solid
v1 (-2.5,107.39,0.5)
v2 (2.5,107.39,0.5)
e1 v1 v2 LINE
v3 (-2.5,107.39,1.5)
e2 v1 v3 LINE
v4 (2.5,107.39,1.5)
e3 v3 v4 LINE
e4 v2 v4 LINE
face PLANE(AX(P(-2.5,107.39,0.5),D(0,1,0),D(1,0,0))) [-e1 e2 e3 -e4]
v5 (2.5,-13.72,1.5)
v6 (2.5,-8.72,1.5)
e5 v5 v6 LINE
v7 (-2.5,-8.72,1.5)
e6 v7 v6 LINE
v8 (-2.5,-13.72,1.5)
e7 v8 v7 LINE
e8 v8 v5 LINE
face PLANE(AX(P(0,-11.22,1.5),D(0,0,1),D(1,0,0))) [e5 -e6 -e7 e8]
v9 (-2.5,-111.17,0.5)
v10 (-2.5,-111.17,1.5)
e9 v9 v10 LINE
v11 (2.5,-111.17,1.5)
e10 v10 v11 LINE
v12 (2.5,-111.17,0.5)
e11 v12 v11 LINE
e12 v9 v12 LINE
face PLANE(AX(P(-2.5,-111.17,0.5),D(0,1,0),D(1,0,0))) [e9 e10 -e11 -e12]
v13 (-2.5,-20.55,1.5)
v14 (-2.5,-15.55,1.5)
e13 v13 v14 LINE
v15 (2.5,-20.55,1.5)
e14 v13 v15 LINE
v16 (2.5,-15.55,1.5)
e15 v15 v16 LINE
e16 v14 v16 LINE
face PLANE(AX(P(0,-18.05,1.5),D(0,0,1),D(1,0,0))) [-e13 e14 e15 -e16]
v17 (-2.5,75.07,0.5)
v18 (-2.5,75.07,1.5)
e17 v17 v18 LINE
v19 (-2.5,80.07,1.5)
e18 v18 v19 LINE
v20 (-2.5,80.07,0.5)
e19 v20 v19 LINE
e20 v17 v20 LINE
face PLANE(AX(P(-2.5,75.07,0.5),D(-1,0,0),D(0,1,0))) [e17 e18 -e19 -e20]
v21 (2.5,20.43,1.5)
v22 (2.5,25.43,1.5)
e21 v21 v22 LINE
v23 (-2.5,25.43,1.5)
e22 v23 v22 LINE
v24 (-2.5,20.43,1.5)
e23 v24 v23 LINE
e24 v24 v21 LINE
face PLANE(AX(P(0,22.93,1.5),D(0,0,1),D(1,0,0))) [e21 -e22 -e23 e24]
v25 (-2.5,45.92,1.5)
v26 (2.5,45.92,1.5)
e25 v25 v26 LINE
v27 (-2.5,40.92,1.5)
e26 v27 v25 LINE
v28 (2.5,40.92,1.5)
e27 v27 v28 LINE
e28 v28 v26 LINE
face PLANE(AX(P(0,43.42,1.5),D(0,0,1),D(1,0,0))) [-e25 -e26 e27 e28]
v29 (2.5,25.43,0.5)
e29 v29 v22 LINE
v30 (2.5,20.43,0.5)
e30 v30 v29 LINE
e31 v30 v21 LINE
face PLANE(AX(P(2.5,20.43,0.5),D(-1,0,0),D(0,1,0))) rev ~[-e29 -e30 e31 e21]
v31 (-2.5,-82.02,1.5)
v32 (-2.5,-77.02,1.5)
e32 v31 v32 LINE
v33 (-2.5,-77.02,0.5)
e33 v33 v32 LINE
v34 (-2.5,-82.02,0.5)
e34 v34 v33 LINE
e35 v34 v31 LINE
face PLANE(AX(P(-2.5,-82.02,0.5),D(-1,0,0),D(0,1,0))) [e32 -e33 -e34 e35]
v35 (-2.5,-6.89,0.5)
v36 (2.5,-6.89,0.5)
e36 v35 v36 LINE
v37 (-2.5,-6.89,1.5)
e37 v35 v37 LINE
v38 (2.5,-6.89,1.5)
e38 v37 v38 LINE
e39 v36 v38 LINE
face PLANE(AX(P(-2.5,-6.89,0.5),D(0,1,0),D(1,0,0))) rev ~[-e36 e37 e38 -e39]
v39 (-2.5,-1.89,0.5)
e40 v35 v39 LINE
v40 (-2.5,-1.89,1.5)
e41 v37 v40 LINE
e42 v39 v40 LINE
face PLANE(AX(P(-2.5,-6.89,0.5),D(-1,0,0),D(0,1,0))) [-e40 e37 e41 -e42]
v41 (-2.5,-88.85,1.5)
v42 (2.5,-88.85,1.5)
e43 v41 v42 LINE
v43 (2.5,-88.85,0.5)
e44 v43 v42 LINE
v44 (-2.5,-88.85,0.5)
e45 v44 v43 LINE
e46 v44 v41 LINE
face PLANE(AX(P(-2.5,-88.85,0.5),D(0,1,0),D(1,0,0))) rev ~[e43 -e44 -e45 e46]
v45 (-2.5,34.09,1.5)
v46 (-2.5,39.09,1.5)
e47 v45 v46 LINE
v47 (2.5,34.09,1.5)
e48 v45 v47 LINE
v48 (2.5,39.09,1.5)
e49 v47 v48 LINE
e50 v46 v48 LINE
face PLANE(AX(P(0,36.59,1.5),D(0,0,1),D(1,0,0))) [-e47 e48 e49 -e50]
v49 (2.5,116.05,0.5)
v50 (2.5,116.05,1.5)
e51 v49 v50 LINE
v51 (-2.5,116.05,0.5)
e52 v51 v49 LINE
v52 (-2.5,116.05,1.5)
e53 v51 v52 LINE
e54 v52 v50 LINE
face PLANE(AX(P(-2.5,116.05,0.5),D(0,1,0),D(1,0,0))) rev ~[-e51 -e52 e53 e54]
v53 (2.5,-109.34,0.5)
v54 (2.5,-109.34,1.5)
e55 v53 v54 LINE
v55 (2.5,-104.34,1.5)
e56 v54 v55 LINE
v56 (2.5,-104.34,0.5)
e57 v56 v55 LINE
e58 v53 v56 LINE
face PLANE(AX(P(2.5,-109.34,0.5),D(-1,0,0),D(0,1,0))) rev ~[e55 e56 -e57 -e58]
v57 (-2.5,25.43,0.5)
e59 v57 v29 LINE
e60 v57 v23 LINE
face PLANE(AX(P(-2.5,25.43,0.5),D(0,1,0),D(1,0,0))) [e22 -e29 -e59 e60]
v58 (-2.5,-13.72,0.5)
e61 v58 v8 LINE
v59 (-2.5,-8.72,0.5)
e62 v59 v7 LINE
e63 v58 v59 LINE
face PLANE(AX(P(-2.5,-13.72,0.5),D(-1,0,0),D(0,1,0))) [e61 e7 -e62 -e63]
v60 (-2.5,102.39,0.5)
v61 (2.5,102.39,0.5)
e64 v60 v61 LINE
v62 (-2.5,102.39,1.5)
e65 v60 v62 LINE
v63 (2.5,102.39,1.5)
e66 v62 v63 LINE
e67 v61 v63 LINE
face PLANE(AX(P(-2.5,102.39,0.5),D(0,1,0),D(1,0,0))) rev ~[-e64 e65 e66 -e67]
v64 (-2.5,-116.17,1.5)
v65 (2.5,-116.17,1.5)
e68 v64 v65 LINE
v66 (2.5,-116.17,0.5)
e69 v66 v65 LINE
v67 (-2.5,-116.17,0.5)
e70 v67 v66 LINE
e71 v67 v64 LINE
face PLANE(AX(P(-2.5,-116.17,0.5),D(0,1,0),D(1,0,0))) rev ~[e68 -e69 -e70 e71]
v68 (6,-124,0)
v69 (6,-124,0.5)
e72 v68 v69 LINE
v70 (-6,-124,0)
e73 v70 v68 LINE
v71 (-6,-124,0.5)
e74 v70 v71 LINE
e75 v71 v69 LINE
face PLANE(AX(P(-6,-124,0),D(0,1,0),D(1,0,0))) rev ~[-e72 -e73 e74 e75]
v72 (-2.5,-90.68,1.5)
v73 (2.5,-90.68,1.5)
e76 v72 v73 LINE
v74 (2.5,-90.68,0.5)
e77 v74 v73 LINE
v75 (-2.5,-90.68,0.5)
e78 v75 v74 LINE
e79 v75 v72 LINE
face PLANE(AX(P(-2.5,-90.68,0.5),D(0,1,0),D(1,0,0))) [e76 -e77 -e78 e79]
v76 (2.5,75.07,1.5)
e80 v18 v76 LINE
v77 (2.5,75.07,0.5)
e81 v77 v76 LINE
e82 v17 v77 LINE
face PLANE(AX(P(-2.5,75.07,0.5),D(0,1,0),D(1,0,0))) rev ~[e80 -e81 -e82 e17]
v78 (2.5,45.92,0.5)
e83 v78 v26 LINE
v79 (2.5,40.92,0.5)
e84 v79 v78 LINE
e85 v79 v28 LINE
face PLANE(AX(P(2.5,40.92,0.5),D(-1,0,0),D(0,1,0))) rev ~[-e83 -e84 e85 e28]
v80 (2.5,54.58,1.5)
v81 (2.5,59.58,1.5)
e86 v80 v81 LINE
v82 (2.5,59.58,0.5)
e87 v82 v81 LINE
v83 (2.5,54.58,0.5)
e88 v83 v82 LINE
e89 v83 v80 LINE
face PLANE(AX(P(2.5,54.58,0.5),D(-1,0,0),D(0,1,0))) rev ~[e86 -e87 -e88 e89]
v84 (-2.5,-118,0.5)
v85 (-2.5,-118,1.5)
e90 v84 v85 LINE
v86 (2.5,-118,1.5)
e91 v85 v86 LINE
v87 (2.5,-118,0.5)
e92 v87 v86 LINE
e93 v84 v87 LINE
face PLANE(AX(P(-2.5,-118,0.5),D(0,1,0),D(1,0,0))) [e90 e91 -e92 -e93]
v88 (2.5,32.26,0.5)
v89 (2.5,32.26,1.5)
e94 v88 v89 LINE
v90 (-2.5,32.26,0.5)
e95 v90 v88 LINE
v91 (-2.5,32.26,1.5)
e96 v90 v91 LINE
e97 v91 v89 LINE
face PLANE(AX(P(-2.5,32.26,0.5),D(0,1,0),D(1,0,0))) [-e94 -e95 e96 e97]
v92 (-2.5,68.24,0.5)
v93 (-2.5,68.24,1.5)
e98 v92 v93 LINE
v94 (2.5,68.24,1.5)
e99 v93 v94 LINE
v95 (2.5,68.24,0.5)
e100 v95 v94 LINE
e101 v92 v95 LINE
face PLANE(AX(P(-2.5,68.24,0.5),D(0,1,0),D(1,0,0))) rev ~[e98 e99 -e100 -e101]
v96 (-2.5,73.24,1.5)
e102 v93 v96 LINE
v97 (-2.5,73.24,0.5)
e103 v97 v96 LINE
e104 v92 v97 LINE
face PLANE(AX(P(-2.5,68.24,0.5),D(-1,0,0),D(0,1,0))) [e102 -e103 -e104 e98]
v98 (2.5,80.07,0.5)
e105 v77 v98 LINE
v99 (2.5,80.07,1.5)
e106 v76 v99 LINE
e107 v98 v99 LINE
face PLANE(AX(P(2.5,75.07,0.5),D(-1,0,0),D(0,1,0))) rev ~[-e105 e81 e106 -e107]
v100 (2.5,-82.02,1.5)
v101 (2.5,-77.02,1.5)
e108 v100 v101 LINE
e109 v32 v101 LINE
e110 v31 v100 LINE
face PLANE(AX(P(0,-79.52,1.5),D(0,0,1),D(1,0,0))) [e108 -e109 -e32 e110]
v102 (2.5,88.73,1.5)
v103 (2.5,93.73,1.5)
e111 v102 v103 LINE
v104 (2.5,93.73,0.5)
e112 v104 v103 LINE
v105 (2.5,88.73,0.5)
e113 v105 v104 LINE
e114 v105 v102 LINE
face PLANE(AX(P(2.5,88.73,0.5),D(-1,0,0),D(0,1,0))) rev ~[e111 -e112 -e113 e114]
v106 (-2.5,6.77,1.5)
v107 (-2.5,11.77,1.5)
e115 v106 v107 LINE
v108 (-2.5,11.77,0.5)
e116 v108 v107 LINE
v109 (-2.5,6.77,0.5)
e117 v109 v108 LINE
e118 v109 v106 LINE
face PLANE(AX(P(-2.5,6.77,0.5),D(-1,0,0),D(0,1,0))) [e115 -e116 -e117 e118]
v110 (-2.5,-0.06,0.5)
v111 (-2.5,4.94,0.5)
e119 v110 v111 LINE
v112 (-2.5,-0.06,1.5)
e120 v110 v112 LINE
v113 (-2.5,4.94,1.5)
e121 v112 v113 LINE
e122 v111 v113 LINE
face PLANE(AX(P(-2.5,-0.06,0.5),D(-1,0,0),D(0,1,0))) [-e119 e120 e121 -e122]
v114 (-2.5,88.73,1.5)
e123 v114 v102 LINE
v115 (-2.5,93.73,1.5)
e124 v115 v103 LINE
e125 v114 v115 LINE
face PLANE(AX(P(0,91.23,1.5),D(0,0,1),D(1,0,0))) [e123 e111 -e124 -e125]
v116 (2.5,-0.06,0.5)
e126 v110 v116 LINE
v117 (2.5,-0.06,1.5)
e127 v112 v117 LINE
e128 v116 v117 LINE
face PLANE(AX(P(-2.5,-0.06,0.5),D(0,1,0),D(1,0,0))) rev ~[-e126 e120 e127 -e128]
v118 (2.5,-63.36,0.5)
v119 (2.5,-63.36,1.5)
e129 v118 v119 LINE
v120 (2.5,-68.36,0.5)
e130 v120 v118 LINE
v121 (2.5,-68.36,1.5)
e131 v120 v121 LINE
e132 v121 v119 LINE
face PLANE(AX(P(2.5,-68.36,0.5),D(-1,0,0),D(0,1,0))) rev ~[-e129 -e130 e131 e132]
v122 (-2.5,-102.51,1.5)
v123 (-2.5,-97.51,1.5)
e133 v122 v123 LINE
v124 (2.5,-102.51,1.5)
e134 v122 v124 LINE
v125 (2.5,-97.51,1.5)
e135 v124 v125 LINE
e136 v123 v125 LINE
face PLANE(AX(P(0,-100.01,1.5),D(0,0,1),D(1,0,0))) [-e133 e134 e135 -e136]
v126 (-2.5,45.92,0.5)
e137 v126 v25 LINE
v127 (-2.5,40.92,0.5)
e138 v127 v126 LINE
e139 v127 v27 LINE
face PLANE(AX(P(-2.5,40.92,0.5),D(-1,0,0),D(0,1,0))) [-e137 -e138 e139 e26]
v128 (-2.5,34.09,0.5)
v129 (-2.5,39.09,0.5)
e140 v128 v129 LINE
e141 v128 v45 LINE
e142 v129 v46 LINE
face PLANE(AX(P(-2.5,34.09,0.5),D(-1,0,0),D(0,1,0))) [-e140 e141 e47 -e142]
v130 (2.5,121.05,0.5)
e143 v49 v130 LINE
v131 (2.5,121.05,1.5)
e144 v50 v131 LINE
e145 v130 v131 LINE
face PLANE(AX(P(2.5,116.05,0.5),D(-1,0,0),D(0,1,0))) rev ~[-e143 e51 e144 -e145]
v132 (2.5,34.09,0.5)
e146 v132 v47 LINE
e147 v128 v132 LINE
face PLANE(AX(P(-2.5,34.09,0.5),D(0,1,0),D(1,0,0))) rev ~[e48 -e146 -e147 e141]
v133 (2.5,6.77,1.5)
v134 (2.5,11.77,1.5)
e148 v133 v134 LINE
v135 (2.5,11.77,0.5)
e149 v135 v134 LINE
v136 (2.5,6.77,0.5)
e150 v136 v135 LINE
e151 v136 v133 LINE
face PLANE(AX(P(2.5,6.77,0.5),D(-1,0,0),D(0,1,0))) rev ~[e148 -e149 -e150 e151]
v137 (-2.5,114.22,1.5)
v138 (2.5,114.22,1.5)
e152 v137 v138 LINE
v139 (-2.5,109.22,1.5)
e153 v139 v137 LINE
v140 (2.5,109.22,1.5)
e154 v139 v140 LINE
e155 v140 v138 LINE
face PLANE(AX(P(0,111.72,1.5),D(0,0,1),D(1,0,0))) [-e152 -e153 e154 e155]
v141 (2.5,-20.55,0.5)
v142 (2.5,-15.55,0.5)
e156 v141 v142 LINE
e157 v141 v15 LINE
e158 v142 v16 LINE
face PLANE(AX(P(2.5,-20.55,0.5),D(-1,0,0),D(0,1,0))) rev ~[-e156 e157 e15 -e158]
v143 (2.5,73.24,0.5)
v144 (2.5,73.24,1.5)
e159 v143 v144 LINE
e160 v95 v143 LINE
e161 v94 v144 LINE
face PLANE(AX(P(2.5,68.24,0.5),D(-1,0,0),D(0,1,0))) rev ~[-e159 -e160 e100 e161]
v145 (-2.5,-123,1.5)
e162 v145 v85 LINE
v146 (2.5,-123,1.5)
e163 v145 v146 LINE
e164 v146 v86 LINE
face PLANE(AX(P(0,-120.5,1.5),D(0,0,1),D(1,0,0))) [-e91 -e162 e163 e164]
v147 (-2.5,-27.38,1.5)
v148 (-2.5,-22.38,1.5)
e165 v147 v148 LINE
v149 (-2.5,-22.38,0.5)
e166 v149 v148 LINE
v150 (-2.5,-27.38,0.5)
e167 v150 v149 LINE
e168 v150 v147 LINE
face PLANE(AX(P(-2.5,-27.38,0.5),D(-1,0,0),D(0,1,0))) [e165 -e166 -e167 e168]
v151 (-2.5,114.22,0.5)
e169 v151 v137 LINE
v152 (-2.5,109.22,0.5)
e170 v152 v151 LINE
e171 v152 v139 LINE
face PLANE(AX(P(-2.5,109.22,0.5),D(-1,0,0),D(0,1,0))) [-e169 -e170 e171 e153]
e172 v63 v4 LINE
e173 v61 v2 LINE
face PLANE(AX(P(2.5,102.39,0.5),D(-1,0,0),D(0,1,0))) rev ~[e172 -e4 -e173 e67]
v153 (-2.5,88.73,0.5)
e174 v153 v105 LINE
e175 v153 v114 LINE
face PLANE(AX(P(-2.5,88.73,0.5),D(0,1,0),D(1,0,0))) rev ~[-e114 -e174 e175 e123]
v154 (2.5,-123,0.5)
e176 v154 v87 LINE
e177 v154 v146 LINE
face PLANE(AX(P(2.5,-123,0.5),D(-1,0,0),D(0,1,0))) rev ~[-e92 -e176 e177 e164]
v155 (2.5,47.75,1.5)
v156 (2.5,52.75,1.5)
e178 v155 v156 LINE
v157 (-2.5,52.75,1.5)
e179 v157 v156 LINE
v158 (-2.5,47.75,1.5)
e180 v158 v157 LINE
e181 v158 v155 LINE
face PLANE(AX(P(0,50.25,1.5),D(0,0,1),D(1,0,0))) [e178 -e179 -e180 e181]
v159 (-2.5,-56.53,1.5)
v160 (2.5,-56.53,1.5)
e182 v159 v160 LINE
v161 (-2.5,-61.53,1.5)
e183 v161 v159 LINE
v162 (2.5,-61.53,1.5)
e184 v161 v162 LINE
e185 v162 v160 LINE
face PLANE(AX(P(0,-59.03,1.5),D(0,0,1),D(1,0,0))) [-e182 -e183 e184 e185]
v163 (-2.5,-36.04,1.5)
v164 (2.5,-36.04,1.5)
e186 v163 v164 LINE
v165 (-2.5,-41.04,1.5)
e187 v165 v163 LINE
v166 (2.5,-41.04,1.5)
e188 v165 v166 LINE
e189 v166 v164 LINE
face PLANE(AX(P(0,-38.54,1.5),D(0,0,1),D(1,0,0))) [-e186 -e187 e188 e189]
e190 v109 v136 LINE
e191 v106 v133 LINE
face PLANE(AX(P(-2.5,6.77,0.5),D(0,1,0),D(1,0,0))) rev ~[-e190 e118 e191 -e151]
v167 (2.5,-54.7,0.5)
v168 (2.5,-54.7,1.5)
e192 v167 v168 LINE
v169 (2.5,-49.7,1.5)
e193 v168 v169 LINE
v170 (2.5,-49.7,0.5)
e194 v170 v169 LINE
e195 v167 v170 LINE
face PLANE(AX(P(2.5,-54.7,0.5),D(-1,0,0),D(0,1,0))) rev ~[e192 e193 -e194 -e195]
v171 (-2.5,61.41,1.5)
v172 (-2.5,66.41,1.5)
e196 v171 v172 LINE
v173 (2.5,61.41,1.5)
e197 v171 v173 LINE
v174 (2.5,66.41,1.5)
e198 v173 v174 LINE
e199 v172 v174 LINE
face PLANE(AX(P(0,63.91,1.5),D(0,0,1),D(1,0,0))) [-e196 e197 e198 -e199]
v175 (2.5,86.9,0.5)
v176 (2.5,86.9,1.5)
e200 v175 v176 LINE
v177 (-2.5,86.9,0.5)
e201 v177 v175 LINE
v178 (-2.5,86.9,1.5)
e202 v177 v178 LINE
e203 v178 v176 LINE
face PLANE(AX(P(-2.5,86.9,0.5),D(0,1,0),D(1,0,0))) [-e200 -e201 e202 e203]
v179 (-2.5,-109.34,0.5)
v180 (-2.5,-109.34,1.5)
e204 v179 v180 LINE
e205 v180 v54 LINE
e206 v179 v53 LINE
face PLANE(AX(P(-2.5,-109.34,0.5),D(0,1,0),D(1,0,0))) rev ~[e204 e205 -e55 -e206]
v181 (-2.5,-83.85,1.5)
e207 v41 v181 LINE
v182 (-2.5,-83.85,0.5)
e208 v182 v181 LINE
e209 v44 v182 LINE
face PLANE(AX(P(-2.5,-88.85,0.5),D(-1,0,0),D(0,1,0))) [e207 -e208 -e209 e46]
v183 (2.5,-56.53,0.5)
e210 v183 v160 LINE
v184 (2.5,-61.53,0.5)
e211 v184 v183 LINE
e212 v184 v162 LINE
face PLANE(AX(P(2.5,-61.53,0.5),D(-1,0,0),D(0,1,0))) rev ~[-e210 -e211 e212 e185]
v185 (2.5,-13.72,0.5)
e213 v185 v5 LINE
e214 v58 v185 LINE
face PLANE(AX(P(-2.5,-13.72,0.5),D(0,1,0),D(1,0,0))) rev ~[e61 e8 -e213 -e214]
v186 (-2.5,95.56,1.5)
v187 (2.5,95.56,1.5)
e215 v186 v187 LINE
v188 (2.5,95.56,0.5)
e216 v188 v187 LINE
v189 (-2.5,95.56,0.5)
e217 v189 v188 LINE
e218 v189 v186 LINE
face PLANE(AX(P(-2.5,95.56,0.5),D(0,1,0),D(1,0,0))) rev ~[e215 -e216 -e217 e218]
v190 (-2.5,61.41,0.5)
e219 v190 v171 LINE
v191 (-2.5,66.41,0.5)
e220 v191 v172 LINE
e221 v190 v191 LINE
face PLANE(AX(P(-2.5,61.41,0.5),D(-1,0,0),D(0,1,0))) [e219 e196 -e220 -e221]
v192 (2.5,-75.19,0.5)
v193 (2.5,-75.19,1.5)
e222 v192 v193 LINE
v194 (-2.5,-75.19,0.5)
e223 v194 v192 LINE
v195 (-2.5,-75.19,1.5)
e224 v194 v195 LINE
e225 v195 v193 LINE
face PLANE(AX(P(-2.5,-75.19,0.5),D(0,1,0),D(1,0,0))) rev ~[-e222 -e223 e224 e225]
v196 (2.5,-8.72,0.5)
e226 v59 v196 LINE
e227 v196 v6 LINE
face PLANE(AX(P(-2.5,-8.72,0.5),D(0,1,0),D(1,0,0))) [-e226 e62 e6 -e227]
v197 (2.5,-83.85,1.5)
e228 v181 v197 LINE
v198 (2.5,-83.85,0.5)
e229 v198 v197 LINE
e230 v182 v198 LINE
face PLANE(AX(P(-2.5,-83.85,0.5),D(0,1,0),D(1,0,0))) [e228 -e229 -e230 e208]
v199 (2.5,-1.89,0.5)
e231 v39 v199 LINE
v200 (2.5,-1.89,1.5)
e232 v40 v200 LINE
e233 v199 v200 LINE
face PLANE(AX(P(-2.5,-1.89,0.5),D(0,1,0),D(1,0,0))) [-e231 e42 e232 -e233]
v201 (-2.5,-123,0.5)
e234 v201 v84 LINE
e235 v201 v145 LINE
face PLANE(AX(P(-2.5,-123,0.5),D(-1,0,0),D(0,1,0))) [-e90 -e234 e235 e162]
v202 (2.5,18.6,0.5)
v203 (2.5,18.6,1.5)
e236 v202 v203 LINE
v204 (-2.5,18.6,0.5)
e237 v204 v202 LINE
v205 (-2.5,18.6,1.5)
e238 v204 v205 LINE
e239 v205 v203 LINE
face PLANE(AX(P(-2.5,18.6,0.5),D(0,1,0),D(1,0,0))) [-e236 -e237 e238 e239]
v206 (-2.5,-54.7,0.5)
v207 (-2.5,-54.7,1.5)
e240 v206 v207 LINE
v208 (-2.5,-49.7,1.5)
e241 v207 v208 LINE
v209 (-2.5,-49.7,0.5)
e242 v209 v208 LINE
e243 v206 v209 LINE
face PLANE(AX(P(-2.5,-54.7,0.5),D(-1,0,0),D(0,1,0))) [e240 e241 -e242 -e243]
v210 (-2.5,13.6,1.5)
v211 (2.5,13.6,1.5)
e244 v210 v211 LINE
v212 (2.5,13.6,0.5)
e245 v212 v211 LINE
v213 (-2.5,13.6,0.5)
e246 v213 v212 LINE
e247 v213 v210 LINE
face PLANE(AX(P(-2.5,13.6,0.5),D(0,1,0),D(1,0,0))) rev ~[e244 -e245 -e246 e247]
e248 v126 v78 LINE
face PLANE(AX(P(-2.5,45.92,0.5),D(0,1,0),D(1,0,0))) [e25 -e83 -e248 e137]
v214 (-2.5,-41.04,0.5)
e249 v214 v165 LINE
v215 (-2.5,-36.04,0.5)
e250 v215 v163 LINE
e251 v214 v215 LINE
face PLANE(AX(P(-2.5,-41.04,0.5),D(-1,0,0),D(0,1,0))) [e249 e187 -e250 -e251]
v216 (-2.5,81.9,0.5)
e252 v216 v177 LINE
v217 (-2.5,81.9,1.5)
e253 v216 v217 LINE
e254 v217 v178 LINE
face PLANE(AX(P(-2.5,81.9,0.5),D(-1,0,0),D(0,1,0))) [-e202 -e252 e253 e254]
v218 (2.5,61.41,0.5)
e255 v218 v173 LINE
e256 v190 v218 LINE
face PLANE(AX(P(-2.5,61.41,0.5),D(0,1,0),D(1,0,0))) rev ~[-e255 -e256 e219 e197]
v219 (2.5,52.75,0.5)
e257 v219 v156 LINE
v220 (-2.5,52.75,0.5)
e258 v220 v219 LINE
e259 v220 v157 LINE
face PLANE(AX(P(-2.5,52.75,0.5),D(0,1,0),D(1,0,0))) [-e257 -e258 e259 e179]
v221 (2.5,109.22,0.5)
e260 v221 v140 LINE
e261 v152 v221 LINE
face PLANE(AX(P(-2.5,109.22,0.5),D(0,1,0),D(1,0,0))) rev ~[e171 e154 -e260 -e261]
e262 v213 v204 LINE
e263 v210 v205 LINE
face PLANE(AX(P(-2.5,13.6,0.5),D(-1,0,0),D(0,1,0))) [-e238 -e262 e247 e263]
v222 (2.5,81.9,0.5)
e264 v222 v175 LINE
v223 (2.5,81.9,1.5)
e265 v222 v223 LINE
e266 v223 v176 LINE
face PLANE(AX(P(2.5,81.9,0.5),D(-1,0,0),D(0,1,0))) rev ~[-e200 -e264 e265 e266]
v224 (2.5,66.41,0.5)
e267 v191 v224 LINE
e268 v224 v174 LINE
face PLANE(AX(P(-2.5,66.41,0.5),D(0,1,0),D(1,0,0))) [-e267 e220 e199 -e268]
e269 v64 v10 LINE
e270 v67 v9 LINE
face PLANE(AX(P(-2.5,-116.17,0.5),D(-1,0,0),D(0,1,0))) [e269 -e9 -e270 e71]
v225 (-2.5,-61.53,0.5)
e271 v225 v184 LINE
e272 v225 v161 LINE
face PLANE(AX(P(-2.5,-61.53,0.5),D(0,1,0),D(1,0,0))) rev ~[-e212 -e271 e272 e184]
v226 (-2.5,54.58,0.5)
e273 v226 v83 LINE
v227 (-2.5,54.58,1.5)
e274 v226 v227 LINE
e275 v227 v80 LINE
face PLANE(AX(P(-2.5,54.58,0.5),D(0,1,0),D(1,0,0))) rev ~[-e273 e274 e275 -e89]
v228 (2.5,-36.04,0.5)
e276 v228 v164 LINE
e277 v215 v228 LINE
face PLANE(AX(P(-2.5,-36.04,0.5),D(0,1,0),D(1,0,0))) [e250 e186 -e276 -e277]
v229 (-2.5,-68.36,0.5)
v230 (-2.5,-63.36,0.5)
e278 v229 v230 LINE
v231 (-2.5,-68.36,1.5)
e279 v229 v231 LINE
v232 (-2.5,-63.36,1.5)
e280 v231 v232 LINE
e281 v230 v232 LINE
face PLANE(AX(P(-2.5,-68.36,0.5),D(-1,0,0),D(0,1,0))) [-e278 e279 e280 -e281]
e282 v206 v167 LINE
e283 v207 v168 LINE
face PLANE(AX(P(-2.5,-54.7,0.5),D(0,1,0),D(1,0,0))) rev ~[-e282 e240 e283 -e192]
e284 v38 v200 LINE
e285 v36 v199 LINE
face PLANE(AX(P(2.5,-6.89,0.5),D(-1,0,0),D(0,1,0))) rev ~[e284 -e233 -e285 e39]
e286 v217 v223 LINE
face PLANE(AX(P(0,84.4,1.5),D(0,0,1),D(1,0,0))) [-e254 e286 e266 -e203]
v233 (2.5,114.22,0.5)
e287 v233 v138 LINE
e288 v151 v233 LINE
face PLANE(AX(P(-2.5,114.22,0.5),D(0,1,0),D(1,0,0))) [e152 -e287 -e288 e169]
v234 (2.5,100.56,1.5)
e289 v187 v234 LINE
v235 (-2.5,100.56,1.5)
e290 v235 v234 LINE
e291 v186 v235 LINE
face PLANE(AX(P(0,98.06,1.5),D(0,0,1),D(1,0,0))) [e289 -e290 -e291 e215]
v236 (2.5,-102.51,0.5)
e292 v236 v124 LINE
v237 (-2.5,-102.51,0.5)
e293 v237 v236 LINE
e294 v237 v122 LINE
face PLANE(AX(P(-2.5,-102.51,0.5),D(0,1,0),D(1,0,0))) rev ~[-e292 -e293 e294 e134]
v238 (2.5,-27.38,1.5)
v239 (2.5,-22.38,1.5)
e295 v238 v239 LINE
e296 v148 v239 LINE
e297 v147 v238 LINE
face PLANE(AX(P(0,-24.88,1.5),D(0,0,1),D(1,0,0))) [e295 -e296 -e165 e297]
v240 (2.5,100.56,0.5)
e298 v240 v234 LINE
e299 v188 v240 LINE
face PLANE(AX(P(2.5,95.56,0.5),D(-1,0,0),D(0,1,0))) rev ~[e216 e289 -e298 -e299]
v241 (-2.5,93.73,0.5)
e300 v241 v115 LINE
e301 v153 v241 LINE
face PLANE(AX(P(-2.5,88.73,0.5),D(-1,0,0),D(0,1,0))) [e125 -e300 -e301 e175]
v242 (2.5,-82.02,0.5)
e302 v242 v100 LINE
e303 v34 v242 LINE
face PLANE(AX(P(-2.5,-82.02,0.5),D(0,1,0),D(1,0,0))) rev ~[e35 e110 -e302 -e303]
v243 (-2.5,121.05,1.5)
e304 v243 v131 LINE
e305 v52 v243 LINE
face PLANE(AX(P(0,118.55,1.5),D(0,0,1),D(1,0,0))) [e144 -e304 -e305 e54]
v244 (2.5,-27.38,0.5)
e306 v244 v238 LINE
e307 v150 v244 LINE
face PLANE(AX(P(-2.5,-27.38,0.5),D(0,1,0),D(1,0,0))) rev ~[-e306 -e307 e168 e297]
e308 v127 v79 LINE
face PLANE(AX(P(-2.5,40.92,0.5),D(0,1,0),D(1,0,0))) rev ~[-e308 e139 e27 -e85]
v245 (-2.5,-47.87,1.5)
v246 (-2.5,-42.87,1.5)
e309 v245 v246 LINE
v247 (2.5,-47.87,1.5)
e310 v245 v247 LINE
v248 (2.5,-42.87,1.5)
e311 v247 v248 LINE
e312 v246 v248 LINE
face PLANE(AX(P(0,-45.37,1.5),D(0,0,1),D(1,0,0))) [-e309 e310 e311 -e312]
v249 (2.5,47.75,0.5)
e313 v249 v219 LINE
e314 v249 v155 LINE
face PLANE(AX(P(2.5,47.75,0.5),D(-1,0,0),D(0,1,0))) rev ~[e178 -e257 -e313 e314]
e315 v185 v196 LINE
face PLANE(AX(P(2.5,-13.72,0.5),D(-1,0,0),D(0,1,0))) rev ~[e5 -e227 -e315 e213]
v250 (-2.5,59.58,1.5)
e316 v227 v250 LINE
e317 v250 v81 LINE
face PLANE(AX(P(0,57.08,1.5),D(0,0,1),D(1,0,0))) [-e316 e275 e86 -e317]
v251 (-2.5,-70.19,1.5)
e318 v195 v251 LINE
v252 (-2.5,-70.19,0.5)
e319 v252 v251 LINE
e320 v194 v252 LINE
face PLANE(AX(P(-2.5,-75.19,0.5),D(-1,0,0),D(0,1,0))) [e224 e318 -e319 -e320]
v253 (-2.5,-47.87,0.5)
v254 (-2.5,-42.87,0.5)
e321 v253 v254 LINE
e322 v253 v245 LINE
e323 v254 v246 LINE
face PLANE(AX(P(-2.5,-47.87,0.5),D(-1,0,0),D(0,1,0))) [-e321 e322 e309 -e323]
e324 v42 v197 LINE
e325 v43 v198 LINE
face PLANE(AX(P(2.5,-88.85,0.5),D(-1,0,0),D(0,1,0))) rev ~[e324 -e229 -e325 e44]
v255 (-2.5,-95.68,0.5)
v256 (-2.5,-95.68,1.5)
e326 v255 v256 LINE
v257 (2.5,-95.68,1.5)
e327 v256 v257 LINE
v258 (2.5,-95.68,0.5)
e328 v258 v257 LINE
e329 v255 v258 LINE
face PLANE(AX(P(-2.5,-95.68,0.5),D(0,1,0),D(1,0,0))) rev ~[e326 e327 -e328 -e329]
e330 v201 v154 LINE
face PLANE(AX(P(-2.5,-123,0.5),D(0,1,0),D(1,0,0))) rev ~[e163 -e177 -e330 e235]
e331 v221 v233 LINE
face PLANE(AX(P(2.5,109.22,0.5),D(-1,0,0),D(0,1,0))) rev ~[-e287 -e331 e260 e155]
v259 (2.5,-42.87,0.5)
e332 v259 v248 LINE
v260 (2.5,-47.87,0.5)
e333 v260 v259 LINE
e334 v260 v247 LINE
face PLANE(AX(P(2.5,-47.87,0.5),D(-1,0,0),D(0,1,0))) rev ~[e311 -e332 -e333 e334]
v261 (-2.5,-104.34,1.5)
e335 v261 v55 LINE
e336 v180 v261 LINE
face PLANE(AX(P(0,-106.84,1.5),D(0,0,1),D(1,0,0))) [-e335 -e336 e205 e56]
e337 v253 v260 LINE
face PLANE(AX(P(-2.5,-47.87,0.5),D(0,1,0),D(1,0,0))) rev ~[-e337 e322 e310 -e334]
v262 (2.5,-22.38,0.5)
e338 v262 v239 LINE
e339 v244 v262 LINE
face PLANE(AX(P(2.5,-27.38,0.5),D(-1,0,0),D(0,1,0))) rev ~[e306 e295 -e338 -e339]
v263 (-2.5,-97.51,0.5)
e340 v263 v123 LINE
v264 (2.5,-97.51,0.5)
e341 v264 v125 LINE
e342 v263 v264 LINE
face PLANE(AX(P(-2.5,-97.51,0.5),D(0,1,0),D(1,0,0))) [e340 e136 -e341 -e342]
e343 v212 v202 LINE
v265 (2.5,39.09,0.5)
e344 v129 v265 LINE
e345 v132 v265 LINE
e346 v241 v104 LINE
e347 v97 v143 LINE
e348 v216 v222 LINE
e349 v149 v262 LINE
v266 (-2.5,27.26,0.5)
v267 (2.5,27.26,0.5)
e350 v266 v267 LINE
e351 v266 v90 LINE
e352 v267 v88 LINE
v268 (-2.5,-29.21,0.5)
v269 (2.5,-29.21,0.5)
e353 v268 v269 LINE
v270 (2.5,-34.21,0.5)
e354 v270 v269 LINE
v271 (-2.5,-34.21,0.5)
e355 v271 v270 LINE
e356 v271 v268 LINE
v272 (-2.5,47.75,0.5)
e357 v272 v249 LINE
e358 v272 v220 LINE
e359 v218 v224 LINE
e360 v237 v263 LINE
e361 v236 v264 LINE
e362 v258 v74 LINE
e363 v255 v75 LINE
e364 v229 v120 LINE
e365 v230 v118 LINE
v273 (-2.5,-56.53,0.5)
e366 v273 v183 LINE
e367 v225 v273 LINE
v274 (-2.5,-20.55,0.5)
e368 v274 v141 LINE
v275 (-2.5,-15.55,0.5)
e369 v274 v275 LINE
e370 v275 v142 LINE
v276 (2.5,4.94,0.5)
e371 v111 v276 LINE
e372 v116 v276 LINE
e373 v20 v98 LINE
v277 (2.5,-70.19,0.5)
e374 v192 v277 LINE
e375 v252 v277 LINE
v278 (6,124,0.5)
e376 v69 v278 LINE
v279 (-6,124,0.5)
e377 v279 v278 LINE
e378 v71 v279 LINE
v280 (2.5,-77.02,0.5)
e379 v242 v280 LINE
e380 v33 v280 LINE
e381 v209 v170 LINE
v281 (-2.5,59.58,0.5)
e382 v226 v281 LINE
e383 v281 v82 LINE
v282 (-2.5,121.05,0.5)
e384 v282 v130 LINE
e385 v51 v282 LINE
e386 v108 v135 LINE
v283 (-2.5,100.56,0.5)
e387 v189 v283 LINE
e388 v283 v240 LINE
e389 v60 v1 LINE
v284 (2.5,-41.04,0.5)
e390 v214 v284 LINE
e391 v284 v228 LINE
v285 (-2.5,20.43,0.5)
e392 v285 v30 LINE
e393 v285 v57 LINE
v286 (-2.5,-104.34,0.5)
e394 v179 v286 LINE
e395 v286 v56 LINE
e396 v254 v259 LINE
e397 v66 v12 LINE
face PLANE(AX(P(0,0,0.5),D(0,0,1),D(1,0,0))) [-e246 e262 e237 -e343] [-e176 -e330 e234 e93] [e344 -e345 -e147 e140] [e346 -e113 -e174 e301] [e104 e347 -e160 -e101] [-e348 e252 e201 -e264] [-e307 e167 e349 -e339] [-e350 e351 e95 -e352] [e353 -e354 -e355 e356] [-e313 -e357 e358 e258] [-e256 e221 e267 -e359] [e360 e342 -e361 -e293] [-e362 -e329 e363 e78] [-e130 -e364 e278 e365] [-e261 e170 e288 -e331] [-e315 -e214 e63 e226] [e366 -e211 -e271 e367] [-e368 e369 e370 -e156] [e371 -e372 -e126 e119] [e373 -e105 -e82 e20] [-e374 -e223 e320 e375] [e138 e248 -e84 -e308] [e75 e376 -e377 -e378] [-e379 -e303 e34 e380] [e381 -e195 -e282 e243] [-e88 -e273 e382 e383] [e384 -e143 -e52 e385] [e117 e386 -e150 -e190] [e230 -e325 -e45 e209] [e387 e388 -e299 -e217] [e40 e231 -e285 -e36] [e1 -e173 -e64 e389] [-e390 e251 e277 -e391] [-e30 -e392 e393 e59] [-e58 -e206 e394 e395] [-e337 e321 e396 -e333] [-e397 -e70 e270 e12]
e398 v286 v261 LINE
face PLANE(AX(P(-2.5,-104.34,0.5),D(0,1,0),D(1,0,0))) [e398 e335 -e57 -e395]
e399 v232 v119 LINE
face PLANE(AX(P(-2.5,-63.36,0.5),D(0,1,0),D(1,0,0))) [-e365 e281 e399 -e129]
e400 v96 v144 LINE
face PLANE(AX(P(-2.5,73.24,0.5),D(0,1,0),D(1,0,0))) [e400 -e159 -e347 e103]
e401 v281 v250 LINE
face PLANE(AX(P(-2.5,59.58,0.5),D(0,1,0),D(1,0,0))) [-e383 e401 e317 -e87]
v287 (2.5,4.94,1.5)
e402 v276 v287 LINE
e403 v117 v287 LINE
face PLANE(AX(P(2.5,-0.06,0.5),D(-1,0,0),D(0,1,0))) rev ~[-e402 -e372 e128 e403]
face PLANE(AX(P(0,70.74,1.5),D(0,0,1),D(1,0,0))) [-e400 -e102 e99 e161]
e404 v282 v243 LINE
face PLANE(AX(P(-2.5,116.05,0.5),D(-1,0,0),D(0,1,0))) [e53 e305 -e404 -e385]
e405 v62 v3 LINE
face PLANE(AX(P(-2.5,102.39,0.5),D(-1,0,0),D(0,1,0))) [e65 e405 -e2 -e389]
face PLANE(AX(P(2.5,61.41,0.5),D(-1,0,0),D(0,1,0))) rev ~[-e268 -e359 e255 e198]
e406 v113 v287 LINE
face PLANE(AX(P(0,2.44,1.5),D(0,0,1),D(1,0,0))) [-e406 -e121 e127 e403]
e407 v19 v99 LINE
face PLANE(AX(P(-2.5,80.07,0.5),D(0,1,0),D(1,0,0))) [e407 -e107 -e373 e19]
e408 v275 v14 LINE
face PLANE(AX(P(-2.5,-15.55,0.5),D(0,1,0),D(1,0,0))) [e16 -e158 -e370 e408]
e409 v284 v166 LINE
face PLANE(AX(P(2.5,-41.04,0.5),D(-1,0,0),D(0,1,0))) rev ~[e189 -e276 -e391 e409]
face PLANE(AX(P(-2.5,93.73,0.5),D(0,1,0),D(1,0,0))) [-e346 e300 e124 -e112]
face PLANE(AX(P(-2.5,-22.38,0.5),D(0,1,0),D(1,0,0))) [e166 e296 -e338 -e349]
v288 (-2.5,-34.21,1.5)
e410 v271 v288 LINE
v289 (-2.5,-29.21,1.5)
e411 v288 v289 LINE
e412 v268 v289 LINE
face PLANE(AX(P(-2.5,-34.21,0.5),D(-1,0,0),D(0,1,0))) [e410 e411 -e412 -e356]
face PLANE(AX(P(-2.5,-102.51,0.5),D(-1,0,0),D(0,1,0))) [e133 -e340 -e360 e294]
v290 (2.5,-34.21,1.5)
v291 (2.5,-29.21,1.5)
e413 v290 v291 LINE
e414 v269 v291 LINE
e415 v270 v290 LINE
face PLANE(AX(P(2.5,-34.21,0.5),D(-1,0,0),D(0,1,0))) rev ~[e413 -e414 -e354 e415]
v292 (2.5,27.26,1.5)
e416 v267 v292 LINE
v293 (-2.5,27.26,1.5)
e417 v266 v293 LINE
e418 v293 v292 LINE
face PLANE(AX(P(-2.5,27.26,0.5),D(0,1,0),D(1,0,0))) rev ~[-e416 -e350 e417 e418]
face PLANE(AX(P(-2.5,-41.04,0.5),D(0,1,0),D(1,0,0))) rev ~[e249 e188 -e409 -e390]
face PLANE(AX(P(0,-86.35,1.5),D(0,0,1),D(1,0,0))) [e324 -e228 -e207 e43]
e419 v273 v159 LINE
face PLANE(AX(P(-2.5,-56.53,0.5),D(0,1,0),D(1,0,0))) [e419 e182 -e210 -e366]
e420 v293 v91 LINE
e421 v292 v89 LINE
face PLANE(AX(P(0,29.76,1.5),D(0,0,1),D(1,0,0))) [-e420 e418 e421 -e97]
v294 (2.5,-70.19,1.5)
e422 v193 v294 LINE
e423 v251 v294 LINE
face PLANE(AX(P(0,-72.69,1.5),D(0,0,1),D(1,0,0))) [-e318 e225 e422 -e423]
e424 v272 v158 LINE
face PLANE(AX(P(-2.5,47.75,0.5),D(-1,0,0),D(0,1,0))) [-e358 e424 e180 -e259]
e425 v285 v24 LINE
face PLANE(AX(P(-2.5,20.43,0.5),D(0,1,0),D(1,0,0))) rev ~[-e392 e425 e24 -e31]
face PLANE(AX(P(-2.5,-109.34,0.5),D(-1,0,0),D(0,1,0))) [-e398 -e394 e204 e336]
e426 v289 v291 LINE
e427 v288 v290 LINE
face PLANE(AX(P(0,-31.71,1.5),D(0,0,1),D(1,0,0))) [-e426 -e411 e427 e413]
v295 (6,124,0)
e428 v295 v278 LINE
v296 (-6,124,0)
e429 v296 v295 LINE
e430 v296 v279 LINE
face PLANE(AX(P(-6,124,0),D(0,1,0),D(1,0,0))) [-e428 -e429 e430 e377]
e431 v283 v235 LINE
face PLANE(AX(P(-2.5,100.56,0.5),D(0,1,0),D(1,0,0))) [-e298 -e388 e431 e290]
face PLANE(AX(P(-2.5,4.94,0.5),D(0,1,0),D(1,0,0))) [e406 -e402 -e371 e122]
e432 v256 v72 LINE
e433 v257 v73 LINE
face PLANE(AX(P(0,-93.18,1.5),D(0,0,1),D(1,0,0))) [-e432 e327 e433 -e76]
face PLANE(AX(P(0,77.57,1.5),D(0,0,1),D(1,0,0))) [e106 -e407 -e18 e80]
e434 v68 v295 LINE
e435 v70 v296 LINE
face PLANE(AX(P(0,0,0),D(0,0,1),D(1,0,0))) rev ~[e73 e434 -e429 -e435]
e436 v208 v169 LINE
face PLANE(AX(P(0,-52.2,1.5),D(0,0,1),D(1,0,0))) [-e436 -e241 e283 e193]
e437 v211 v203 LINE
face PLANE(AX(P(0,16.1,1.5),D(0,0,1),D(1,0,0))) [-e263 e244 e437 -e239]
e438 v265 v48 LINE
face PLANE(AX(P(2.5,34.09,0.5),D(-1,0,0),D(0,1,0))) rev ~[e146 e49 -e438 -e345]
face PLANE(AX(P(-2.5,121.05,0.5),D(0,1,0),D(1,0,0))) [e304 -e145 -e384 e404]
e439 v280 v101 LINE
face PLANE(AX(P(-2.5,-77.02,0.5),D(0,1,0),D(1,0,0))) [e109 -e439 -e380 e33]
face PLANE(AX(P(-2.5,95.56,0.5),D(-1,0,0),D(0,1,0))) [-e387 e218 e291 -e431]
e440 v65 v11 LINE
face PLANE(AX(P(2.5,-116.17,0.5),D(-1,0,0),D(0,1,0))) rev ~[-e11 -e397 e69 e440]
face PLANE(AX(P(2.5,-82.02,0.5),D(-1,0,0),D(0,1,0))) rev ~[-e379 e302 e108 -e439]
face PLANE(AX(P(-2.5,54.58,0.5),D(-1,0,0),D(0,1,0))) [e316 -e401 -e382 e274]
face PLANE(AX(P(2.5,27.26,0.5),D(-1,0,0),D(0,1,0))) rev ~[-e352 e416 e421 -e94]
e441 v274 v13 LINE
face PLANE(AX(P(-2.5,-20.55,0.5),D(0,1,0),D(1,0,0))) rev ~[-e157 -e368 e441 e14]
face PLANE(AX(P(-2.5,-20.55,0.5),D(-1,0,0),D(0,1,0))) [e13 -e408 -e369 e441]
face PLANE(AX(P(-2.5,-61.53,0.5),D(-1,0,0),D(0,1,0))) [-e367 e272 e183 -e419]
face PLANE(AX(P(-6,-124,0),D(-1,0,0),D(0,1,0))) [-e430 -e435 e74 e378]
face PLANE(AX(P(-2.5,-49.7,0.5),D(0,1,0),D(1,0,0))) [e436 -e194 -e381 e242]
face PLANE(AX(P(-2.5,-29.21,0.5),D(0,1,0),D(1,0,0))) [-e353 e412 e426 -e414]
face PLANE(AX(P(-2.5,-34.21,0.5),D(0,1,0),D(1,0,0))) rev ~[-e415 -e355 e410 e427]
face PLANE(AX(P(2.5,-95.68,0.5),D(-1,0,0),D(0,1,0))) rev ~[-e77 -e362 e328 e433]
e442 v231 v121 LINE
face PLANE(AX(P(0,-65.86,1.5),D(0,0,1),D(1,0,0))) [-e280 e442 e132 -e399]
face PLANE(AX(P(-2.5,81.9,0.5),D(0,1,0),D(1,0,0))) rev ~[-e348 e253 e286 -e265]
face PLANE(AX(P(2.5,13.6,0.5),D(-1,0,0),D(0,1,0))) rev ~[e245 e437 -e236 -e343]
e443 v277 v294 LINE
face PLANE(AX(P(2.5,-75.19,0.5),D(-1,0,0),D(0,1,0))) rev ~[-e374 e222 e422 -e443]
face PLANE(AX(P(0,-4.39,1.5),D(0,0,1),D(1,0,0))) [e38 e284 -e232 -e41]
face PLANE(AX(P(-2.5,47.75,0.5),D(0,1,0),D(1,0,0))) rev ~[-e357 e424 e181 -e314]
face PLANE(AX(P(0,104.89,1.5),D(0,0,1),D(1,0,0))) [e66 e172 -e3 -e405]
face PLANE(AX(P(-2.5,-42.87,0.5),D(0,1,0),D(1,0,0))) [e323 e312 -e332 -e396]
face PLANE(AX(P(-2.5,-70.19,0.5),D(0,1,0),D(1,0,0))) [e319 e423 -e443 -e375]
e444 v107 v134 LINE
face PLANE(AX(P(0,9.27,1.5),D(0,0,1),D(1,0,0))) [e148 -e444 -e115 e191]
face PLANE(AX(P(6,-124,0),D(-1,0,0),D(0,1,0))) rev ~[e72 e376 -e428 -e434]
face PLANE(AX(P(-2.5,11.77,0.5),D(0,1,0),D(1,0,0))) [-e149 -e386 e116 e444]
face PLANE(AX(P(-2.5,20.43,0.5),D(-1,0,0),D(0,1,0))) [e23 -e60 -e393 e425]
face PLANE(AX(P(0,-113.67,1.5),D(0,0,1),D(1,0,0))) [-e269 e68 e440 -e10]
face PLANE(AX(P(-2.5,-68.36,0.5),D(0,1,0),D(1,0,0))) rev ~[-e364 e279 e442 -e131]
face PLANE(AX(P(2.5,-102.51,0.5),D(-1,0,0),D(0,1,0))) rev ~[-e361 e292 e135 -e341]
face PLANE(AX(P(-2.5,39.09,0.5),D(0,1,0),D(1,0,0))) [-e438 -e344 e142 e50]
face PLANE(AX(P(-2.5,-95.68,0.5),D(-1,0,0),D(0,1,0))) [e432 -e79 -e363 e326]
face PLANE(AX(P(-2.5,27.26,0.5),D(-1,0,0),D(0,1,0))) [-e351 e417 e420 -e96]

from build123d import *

# Parameters (mm, degrees)
SKETCH1_W           = 12
SKETCH1_H           = 248
BOSS_EXTRUDE1_DEPTH = 0.5
SKETCH2_W           = 5
SKETCH2_H           = 5
BOSS_EXTRUDE2_DEPTH = 1


with BuildPart() as part:
    # Sketch1 → Boss-Extrude1 (new body)
    with BuildSketch(Plane.XY):
        Rectangle(SKETCH1_W, SKETCH1_H)
    extrude(amount=BOSS_EXTRUDE1_DEPTH)

    # Sketch2 → Boss-Extrude2 (add)
    with BuildSketch(Plane.XY.offset(0.5)):
        with Locations((0, -120.5)):
            Rectangle(SKETCH2_W, SKETCH2_H)
        with Locations((0, -113.67)):
            Rectangle(SKETCH2_W, SKETCH2_H)
        with Locations((0, -106.84)):
            Rectangle(SKETCH2_W, SKETCH2_H)
        with Locations((0, -100.01)):
            Rectangle(SKETCH2_W, SKETCH2_H)
        with Locations((0, -93.18)):
            Rectangle(SKETCH2_W, SKETCH2_H)
        with Locations((0, -86.35)):
            Rectangle(SKETCH2_W, SKETCH2_H)
        with Locations((0, -79.52)):
            Rectangle(SKETCH2_W, SKETCH2_H)
        with Locations((0, -72.69)):
            Rectangle(SKETCH2_W, SKETCH2_H)
        with Locations((0, -65.86)):
            Rectangle(SKETCH2_W, SKETCH2_H)
        with Locations((0, -59.03)):
            Rectangle(SKETCH2_W, SKETCH2_H)
        with Locations((0, -52.2)):
            Rectangle(SKETCH2_W, SKETCH2_H)
        with Locations((0, -45.37)):
            Rectangle(SKETCH2_W, SKETCH2_H)
        with Locations((0, -38.54)):
            Rectangle(SKETCH2_W, SKETCH2_H)
        with Locations((0, -31.71)):
            Rectangle(SKETCH2_W, SKETCH2_H)
        with Locations((0, -24.88)):
            Rectangle(SKETCH2_W, SKETCH2_H)
        with Locations((0, -18.05)):
            Rectangle(SKETCH2_W, SKETCH2_H)
        with Locations((0, -11.22)):
            Rectangle(SKETCH2_W, SKETCH2_H)
        with Locations((0, -4.39)):
            Rectangle(SKETCH2_W, SKETCH2_H)
        with Locations((0, 2.44)):
            Rectangle(SKETCH2_W, SKETCH2_H)
        with Locations((0, 9.27)):
            Rectangle(SKETCH2_W, SKETCH2_H)
        with Locations((0, 16.1)):
            Rectangle(SKETCH2_W, SKETCH2_H)
        with Locations((0, 22.93)):
            Rectangle(SKETCH2_W, SKETCH2_H)
        with Locations((0, 29.76)):
            Rectangle(SKETCH2_W, SKETCH2_H)
        with Locations((0, 36.59)):
            Rectangle(SKETCH2_W, SKETCH2_H)
        with Locations((0, 43.42)):
            Rectangle(SKETCH2_W, SKETCH2_H)
        with Locations((0, 50.25)):
            Rectangle(SKETCH2_W, SKETCH2_H)
        with Locations((0, 57.08)):
            Rectangle(SKETCH2_W, SKETCH2_H)
        with Locations((0, 63.91)):
            Rectangle(SKETCH2_W, SKETCH2_H)
        with Locations((0, 70.74)):
            Rectangle(SKETCH2_W, SKETCH2_H)
        with Locations((0, 77.57)):
            Rectangle(SKETCH2_W, SKETCH2_H)
        with Locations((0, 84.4)):
            Rectangle(SKETCH2_W, SKETCH2_H)
        with Locations((0, 91.23)):
            Rectangle(SKETCH2_W, SKETCH2_H)
        with Locations((0, 98.06)):
            Rectangle(SKETCH2_W, SKETCH2_H)
        with Locations((0, 104.89)):
            Rectangle(SKETCH2_W, SKETCH2_H)
        with Locations((0, 111.72)):
            Rectangle(SKETCH2_W, SKETCH2_H)
        with Locations((0, 118.55)):
            Rectangle(SKETCH2_W, SKETCH2_H)
    extrude(amount=BOSS_EXTRUDE2_DEPTH)


solid = part.part
